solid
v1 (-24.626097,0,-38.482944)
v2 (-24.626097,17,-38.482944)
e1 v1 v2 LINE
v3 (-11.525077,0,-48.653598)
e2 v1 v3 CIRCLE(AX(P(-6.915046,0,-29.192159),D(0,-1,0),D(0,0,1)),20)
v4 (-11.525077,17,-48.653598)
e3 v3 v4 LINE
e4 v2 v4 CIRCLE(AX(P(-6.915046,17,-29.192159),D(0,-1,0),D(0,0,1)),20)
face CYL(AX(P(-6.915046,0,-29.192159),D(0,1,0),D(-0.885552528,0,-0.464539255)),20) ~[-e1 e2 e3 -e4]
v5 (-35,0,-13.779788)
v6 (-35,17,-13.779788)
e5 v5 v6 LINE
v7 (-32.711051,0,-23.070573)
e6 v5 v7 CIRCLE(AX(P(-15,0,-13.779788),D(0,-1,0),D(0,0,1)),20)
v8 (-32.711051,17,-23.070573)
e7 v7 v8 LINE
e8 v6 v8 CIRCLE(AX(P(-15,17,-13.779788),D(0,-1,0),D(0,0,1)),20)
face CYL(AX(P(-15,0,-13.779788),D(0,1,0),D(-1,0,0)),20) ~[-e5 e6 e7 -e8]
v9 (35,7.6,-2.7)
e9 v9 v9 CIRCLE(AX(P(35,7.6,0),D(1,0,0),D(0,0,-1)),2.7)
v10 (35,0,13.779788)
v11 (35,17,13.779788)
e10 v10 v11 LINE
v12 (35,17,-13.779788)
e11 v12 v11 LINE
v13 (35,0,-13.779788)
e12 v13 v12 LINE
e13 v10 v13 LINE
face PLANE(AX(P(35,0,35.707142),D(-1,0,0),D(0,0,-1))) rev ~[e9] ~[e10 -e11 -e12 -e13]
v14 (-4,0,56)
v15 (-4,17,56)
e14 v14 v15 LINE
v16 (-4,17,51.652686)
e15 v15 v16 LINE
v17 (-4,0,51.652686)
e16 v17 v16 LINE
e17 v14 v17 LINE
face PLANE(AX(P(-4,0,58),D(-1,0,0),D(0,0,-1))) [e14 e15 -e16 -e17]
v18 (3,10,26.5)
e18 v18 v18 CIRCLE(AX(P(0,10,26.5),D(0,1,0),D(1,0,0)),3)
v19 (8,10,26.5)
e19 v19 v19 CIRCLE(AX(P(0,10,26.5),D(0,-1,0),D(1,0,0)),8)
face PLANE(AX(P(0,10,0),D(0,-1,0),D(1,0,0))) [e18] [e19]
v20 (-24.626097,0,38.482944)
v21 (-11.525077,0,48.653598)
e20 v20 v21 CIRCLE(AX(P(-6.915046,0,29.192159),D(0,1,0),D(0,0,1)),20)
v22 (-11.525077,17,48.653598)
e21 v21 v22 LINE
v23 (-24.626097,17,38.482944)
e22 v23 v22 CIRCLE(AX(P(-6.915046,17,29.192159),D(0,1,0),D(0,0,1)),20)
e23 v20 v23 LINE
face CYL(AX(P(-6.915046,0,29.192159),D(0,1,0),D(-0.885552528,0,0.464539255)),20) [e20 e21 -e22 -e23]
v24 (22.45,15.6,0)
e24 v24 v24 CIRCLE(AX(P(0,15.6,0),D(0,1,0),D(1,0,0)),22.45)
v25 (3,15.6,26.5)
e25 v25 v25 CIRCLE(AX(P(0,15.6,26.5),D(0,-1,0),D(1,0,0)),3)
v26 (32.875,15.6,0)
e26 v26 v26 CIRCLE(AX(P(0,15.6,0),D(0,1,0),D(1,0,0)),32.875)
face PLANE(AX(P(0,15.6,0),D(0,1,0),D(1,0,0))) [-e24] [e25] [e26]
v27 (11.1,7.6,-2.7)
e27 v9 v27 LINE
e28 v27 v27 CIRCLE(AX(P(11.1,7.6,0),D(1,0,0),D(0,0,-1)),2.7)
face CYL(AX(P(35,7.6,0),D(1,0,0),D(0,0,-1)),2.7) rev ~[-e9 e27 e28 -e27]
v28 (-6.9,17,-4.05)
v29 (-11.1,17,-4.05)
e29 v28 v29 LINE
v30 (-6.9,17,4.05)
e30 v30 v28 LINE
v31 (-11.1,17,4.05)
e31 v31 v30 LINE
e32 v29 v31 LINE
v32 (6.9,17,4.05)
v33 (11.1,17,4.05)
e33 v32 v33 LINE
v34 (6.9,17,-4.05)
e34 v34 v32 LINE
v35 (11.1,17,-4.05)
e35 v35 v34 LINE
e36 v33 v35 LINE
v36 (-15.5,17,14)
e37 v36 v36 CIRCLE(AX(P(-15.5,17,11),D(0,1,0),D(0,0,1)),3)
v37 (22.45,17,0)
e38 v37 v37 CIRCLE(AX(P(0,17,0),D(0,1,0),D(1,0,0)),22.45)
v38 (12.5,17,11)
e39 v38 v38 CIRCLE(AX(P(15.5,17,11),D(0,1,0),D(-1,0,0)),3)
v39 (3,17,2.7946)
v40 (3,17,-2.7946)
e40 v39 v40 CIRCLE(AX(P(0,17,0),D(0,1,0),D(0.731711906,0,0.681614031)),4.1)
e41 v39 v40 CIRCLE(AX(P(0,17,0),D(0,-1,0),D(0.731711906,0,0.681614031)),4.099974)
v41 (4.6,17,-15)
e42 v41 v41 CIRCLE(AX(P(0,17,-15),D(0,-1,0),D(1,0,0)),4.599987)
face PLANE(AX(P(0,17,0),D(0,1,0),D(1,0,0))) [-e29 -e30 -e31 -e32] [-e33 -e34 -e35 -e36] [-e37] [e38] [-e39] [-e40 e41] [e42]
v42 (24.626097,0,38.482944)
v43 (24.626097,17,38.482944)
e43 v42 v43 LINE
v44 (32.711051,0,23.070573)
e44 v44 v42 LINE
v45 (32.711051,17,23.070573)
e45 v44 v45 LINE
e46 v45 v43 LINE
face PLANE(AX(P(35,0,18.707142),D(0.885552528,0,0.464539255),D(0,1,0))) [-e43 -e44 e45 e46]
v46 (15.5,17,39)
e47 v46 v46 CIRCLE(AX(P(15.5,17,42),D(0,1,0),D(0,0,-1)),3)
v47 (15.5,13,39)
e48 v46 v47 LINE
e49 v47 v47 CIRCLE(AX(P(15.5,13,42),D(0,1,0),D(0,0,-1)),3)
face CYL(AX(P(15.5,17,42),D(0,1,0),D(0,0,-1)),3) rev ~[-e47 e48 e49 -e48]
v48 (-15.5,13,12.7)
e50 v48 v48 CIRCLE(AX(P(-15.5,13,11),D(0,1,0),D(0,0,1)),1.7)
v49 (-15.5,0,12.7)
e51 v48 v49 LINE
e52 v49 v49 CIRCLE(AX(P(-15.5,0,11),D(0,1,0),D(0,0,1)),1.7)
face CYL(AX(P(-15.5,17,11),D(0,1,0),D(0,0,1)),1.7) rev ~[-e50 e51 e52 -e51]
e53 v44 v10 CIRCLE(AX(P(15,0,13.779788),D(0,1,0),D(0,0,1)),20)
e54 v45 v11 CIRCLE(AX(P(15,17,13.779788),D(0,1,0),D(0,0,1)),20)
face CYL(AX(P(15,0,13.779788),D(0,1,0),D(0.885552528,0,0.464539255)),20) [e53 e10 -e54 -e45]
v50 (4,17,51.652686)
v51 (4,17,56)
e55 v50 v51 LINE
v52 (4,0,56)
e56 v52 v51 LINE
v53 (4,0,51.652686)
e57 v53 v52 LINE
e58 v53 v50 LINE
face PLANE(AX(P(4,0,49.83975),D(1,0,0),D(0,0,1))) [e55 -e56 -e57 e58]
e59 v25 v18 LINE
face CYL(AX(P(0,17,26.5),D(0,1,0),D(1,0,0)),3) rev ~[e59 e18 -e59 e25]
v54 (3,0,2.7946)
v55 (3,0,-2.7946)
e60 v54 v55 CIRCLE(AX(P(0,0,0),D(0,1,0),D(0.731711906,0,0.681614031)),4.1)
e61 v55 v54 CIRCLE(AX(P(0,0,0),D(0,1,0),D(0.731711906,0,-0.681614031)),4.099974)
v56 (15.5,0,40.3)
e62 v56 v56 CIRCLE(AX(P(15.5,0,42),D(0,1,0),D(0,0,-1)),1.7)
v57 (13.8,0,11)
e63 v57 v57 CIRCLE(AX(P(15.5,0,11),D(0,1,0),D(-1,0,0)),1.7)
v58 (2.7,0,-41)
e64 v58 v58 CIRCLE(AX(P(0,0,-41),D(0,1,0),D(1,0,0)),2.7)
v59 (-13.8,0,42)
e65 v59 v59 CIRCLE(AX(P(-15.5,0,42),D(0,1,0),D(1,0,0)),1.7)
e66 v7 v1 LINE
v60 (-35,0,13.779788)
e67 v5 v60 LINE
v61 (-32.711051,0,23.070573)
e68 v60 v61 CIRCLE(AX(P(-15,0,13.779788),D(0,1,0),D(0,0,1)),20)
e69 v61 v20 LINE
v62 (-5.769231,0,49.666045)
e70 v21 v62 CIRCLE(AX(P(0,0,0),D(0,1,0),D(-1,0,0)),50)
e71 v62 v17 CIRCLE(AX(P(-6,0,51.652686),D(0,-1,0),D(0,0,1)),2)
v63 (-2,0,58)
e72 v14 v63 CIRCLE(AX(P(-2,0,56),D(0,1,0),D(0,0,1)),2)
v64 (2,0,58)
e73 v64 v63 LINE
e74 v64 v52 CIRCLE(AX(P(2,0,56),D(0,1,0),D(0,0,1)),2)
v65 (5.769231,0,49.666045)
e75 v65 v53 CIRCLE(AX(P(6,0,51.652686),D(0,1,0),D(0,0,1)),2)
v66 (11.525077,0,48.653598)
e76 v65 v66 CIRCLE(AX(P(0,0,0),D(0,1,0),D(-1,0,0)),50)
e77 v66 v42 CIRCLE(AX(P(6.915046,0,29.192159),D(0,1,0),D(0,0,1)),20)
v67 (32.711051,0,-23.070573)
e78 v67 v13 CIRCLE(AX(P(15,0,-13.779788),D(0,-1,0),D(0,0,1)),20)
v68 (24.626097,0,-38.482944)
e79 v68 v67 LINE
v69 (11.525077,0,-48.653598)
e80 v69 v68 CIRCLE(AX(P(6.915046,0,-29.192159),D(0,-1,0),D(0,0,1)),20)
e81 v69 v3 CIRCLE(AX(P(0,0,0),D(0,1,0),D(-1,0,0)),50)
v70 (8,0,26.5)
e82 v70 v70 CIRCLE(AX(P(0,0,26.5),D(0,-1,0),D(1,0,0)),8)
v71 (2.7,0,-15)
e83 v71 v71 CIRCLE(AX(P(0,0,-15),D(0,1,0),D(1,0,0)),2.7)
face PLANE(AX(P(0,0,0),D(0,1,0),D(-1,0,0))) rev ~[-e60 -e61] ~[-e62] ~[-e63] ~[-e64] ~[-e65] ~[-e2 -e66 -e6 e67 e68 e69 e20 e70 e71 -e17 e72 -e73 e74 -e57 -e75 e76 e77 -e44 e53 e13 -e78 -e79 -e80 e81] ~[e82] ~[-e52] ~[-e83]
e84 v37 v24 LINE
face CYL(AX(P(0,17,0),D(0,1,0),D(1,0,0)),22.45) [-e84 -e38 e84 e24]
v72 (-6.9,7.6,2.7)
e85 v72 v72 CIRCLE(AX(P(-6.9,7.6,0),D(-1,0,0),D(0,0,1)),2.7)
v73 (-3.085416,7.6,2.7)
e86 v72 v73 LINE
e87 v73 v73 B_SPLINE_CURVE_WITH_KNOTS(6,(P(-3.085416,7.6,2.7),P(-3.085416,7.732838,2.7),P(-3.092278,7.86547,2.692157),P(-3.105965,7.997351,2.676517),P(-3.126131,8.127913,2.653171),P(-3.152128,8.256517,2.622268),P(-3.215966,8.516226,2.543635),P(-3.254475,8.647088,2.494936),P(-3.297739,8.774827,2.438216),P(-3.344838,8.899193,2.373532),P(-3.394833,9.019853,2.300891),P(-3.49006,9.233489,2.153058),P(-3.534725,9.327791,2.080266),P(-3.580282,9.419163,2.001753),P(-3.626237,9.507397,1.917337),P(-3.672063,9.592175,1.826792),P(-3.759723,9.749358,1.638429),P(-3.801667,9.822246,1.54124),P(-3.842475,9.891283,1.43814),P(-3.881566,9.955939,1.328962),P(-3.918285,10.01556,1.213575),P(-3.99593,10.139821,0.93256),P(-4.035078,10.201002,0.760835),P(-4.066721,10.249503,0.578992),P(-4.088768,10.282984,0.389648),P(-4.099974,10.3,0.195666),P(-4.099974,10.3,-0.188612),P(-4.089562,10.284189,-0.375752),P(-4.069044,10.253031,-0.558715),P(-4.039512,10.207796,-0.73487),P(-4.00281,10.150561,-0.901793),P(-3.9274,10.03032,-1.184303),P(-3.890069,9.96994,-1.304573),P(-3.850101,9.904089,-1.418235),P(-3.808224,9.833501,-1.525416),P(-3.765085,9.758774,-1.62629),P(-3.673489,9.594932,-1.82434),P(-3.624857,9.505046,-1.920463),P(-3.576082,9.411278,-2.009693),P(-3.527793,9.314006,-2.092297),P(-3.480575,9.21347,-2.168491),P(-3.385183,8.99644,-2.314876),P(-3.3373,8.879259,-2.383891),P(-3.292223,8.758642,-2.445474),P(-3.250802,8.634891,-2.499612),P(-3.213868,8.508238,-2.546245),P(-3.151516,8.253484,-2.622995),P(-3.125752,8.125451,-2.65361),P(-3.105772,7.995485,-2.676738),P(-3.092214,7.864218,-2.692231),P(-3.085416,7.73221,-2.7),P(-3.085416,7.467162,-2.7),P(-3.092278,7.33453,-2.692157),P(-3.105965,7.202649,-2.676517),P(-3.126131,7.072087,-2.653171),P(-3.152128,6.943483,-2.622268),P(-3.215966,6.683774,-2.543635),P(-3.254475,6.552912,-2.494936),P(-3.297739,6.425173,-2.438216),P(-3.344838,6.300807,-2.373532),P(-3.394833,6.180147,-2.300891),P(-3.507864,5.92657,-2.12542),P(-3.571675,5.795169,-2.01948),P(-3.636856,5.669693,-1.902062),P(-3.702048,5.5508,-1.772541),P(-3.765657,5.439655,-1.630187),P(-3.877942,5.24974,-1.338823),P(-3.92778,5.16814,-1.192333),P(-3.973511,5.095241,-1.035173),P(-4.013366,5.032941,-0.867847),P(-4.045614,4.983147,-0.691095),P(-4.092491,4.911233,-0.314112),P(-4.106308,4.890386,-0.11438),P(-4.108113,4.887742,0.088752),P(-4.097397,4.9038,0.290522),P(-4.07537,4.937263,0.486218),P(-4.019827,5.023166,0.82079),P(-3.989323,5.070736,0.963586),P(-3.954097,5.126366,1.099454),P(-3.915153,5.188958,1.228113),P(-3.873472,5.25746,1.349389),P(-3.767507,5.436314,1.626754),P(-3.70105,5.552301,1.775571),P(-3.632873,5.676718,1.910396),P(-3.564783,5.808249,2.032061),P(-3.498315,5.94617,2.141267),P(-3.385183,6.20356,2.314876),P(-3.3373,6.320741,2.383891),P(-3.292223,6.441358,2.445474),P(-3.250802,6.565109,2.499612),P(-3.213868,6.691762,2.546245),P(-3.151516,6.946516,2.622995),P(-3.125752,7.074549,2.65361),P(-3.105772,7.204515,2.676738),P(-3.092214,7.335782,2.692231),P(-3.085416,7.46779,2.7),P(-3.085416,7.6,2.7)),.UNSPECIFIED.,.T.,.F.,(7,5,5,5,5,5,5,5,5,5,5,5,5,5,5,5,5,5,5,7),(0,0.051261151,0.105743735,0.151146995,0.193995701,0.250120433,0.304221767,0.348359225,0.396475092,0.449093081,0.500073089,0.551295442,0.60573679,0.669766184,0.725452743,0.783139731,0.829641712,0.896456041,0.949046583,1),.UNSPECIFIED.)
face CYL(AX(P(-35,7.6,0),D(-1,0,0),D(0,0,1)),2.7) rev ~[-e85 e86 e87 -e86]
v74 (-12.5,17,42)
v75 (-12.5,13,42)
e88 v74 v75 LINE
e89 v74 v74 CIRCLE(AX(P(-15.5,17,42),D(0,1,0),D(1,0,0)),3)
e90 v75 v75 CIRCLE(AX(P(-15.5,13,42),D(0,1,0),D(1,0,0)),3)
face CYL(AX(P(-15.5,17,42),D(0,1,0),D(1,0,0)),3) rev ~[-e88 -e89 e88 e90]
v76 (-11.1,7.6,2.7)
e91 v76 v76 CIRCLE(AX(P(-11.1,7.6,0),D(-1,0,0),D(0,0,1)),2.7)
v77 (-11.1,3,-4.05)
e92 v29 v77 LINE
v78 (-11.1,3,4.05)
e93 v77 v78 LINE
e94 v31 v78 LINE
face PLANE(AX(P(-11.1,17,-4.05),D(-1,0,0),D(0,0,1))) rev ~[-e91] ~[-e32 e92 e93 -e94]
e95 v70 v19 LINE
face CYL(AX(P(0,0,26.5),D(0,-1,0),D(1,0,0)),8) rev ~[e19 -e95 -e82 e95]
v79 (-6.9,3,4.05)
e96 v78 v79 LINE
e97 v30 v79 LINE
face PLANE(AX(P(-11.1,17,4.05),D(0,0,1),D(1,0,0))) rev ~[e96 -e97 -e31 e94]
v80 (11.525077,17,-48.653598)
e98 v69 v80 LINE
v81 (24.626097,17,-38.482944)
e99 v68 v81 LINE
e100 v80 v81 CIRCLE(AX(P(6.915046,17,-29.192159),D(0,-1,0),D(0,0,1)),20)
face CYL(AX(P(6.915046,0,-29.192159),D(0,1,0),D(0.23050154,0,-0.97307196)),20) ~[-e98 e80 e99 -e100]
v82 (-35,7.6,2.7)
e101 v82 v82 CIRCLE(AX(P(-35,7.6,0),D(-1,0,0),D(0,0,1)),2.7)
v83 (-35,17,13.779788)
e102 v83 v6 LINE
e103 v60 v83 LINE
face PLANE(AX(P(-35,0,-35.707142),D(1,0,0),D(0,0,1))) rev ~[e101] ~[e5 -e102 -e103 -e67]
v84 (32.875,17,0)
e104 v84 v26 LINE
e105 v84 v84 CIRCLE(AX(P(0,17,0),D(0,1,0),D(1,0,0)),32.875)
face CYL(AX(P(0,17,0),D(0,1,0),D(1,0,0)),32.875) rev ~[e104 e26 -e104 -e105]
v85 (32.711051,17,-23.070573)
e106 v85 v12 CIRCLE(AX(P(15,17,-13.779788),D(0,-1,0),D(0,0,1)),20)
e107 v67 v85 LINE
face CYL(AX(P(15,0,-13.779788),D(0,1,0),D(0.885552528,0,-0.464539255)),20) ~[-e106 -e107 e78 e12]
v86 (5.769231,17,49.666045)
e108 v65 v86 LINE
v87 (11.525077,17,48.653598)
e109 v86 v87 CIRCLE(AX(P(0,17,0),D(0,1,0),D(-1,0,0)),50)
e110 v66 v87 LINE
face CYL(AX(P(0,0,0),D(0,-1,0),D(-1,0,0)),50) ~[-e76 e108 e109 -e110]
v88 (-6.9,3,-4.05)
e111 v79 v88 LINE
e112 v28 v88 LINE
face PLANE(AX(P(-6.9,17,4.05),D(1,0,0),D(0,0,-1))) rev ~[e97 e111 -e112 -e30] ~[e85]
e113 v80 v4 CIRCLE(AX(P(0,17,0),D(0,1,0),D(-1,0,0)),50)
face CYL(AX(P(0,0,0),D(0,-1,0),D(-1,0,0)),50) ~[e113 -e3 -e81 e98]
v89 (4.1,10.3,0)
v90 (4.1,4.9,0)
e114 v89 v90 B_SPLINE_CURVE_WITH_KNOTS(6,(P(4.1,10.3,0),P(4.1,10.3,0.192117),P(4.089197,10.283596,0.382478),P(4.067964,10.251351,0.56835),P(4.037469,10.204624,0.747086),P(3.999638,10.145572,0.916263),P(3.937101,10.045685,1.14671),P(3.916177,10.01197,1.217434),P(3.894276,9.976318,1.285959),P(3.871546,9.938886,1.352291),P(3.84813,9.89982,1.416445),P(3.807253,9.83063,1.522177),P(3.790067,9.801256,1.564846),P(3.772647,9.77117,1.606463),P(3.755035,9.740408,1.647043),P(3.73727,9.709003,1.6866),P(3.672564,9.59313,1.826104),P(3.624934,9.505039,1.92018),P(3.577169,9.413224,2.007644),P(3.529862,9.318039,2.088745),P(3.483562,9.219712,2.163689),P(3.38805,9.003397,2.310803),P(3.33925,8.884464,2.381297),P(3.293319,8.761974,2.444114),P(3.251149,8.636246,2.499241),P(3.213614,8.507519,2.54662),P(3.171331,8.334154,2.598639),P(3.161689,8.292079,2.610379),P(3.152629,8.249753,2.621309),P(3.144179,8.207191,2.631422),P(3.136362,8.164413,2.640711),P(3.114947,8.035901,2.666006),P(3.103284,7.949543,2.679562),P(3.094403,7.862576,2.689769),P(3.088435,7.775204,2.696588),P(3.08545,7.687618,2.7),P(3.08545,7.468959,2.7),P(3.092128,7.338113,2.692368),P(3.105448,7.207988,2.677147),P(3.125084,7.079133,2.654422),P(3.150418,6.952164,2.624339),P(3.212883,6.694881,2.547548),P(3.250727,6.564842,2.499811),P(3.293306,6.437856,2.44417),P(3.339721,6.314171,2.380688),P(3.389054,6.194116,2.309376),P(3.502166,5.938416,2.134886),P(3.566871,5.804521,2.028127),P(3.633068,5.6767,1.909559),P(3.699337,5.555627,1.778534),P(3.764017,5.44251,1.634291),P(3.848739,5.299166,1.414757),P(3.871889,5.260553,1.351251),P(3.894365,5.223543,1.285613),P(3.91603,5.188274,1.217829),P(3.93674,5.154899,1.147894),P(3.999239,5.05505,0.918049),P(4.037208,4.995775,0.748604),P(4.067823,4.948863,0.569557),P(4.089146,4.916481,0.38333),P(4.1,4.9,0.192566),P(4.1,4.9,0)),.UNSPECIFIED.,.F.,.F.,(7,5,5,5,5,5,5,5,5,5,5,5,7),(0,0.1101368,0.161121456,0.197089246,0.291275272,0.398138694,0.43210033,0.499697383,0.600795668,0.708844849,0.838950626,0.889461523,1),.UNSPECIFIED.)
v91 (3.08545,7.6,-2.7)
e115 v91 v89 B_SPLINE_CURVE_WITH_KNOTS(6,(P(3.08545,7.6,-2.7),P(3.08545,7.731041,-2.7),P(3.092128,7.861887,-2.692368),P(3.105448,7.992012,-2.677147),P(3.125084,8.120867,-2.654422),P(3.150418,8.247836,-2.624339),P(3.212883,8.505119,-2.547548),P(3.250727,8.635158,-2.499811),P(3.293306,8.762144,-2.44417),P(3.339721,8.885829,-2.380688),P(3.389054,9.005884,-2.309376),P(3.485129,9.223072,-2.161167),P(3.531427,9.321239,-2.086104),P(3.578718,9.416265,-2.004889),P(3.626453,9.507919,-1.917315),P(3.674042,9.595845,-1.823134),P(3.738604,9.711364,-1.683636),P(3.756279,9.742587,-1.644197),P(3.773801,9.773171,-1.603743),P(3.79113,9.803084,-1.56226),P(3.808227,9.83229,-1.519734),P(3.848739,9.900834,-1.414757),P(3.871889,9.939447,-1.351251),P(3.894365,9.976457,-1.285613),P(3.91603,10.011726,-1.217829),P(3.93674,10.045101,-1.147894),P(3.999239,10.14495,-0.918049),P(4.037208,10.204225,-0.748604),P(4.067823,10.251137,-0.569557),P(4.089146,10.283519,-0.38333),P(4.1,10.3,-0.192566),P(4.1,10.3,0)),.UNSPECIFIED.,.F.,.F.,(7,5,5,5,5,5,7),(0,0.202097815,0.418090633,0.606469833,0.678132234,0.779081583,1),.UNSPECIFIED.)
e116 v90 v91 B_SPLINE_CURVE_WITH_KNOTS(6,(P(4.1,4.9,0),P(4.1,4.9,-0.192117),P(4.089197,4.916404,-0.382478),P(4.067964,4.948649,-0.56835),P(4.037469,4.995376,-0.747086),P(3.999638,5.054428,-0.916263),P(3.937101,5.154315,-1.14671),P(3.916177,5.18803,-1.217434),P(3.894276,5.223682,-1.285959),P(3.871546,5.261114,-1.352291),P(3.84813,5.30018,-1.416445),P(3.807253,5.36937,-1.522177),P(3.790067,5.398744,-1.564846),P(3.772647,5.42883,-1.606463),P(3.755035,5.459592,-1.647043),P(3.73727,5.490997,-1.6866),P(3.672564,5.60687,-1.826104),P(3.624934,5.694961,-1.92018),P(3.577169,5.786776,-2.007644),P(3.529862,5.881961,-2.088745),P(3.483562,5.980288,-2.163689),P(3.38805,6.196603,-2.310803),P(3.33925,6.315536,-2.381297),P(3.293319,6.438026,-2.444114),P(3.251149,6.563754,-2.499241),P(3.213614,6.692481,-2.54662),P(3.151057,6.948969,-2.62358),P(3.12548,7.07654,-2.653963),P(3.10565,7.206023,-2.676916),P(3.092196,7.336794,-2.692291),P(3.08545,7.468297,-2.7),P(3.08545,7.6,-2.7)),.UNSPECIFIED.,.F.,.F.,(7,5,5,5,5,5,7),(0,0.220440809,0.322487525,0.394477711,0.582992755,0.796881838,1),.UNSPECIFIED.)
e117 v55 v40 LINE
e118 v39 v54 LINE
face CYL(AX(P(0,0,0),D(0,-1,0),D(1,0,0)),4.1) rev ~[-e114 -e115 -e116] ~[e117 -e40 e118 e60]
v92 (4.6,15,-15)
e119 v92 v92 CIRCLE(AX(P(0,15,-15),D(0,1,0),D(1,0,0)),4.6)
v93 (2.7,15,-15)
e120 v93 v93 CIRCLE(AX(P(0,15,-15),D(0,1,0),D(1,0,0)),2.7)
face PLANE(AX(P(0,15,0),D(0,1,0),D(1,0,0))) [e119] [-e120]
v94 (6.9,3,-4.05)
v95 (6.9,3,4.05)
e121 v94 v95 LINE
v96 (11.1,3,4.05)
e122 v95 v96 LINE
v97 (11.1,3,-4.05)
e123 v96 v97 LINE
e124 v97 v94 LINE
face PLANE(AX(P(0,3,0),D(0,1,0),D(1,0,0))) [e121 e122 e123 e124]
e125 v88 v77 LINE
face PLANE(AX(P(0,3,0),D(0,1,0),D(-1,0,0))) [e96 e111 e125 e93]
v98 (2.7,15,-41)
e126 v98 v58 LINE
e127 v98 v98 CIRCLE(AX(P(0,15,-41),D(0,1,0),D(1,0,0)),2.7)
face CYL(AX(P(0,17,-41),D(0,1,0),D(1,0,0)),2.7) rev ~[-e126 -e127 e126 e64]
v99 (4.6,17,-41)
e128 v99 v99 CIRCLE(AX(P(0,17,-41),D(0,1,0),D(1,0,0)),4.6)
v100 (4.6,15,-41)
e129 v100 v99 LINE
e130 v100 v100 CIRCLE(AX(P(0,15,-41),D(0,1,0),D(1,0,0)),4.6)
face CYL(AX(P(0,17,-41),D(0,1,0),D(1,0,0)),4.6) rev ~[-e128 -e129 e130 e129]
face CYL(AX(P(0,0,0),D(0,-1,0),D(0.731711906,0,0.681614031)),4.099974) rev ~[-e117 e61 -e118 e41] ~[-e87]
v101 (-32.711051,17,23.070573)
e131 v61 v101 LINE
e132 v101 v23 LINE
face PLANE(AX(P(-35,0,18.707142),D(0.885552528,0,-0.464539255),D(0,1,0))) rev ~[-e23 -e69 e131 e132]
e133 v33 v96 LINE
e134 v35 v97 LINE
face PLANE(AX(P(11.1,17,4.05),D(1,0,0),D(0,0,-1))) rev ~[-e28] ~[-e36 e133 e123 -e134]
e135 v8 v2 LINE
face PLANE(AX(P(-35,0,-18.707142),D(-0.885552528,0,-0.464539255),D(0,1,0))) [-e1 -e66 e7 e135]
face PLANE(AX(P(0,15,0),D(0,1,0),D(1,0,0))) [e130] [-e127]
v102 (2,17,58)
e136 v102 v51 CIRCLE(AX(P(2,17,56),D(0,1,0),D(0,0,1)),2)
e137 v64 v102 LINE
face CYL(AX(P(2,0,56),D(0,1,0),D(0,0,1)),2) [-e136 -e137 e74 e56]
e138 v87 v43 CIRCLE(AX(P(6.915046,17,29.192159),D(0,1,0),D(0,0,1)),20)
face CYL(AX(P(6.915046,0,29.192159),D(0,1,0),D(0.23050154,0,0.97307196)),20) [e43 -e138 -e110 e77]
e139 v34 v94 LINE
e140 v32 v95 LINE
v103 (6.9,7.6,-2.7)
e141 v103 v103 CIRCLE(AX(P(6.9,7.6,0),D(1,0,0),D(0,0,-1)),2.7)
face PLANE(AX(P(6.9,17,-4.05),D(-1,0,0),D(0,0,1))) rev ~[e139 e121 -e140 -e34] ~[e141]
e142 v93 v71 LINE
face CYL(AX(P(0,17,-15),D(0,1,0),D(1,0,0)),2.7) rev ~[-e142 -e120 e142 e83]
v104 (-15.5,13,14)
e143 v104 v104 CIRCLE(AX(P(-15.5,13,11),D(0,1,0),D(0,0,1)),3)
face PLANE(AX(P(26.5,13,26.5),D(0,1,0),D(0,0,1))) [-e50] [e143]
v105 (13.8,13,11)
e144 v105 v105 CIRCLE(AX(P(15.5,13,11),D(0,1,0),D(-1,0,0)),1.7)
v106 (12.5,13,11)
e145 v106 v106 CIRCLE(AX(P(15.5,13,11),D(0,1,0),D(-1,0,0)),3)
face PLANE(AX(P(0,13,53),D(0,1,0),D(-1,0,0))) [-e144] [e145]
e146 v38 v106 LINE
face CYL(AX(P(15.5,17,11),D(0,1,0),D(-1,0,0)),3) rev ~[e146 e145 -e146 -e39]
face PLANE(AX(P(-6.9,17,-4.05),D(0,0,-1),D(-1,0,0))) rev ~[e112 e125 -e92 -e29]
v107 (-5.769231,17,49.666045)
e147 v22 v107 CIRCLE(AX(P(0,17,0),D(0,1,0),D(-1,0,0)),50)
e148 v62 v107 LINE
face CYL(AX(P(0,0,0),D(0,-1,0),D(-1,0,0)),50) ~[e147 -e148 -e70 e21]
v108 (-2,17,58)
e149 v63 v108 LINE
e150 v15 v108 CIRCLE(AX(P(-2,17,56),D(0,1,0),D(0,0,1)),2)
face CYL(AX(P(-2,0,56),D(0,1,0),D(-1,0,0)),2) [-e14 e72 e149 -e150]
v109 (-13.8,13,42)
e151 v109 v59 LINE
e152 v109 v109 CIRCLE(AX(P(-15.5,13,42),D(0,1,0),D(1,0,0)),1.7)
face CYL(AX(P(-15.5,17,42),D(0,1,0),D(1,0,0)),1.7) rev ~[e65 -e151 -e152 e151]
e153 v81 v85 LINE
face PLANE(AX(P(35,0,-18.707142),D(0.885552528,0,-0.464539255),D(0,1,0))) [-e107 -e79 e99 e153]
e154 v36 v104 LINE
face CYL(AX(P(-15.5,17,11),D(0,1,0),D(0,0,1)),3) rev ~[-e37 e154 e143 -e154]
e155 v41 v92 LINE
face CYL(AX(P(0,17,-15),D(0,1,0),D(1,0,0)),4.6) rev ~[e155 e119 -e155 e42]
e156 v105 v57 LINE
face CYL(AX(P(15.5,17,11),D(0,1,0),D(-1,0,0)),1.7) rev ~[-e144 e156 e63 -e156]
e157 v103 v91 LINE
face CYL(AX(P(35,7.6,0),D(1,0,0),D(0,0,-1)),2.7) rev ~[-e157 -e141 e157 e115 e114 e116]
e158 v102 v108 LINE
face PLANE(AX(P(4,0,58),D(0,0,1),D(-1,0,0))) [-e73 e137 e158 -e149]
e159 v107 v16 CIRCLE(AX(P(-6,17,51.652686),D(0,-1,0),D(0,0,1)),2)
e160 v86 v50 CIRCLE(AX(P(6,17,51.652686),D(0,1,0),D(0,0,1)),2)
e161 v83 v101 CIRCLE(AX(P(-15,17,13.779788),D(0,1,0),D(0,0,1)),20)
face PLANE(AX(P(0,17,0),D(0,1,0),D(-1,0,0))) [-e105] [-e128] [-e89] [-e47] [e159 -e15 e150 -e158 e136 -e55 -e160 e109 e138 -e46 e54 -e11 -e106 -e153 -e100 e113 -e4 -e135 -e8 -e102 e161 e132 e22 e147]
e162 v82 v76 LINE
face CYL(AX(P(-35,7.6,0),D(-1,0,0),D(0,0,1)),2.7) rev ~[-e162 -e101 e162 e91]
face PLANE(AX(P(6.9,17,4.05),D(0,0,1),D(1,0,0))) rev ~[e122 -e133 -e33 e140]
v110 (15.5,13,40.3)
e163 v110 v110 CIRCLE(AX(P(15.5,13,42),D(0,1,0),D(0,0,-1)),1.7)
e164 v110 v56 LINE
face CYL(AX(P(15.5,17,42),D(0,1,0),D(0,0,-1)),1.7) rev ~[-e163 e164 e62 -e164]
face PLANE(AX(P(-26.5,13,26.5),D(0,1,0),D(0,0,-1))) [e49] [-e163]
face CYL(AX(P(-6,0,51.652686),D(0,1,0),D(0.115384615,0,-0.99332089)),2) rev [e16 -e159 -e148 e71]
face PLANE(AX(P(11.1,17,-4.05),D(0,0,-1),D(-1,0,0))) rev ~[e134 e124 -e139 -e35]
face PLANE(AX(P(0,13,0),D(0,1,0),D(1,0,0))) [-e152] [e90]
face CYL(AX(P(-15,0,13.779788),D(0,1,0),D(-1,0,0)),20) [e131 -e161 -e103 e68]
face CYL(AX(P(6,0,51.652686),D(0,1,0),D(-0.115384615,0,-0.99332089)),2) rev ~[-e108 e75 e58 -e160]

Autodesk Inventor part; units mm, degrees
ref_plane "YZ Plane" through (0, 0, 0) normal (1, 0, 0) x (0, 1, 0)
ref_plane "XZ Plane" through (0, 0, 0) normal (0, 1, 0) x (-1, 0, 0)
ref_plane "XY Plane" through (0, 0, 0) normal (0, 0, 1) x (1, 0, 0)
sketch "Boceto1" plane through (0, 0, 0) normal (0, 1, 0) x (-1, 0, 0)
  circle A0 centre (0, 0) radius 19.876
  circle A1 centre (0, 0) radius 32.85
  circle A2 centre (0, 0) radius 50
  dimension "d0" = 65.7
  dimension "d1" = 100
extrude "Extrusión1" add sketch "Boceto1" along normal blind 17 contours A0 | A1 | A2
sketch "Boceto2" plane through (0, 17, 0) normal (0, 1, 0) x (1, 0, 0)
  circle A0 centre (0, 0) radius 32.875
  circle A1 centre (0, 0) radius 22.45
  dimension "d4" = 65.75
  dimension "d5" = 44.9
extrude "Extrusión2" cut sketch "Boceto2" against normal blind 1.4
sketch "Boceto3" plane through (0, 17, 0) normal (0, 1, 0) x (1, 0, 0)
  circle A0 centre (0, 0) radius 22.45 projected
extrude "Extrusión3" add sketch "Boceto3" along normal blind 1
sketch "Boceto4" plane through (0, 18, 0) normal (0, 1, 0) x (1, 0, 0)
  circle A0 centre (0, 0) radius 4
  line L0 (2.9, -2.755) -> (2.9, 2.755)
  dimension "d11" = 8
  dimension "d12" = 2.9
extrude "Extrusión4" cut sketch "Boceto4" against normal through all contours L0 A0 picked at (-0.156, 0.667)
sketch "Boceto5" plane through (0, 18, 0) normal (0, 1, 0) x (1, 0, 0)
  arc A0 (2.9, 2.755) -> (2.9, -2.755) centre (0, 0) ccw projected
  line L0 (2.9, 2.755) -> (2.9, -2.755) projected
  arc A1 (3, 2.7946) -> (3, -2.7946) centre (0, 0) ccw
  line L1 (3, 2.7946) -> (3, -2.7946)
  dimension "d15" = 0.1
extrude "Extrusión5" cut sketch "Boceto5" against normal through all contours L0 A0 | L1 A1
sketch "Boceto6" plane through (0, 0, 0) normal (0, -1, 0) x (1, 0, 0)
  line L0 (-35, 64.067) -> (35, 64.067)
  line L1 (35, 64.067) -> (35, -64.067)
  line L2 (35, -64.067) -> (-35, -64.067)
  line L3 (-35, -64.067) -> (-35, 64.067)
  line L4 (-35, 64.067) -> (35, -64.067) construction
  line L5 (35, 64.067) -> (-35, -64.067) construction
  arc A0 (3, 2.7946) -> (3, -2.7946) centre (0, 0) ccw projected
  line L6 (3, 2.7946) -> (3, -2.7946) projected
  circle A1 centre (0, 0) radius 50 projected
  point P0 (0, 0)
  point P1 (-35, 35.7071)
  point P2 (-35, -35.7071)
  point P3 (35, 35.7071)
  point P4 (35, -35.7071)
  dimension "d19" = 70
extrude "Extrusión6" cut sketch "Boceto6" against normal through all contours L3 A1 | A1 L1
chamfer "Chaflán1" distance 17 angle 45 4 edges at (-35, 8.5, 35.7071) (-35, 8.5, -35.7071) (35, 8.5, -35.7071) (35, 8.5, 35.7071)
fillet "Empalme2" radius 20 8 edges at (-21.0133, 8.5, -45.3701) (-21.0133, 8.5, 45.3701) (-35, 8.5, -18.7071) (-35, 8.5, 18.7071) (21.0133, 8.5, -45.3701) (21.0133, 8.5, 45.3701) (35, 8.5, -18.7071) (35, 8.5, 18.7071)
sketch "Boceto8" plane through (0, 18, 0) normal (0, 1, 0) x (1, 0, 0)
  arc A0 (3, 2.7946) -> (3, -2.7946) centre (0, 0) ccw projected
  line L0 (3, 2.7946) -> (3, -2.7946) projected
sketch "Boceto9" plane through (0, 17, 0) normal (0, 1, 0) x (1, 0, 0)
  circle A0 centre (0, 41) radius 2.7
  circle A1 centre (0, 15) radius 2.7
  circle A2 centre (0, -15) radius 2.7
  point P0 (0, 0)
  dimension "d30" = 5.4
  dimension "d31" = 5.4
  dimension "d32" = 15
  dimension "d33" = 26
  dimension "d45" = 15
extrude "Extrusión8" cut sketch "Boceto9" along normal blind 15 and the other way blind 27.75
sketch "Boceto13" plane through (0, 17, 0) normal (0, 1, 0) x (1, 0, 0)
  circle A0 centre (0, 41) radius 2.7 projected
  circle A1 centre (0, 41) radius 4.6
  circle A2 centre (0, 15) radius 2.7 projected
  circle A3 centre (0, 15) radius 4.6
  circle A4 centre (0, -15) radius 2.7 projected
  circle A5 centre (0, -15) radius 4.6
  point P0 (0, 0)
  dimension "d38" = 9.2
  dimension "d39" = 9.2
extrude "Extrusión9" cut sketch "Boceto13" along normal blind 2 and the other way blind 2 contours A0 | A1 | A3 | A4 | A5
sketch "Boceto14" plane through (0, 18, 0) normal (0, 1, 0) x (1, 0, 0)
  circle A0 centre (0, 0) radius 9
  dimension "d46" = 18
extrude "Extrusión10" add sketch "Boceto14" along normal blind 2.5
sketch "Boceto15" plane through (0, 0, 0) normal (0, -1, 0) x (1, 0, 0)
  line L0 (3, -2.7946) -> (3, 2.7946) projected
  arc A0 (3, 2.7946) -> (3, -2.7946) centre (0, 0) ccw projected
extrude "Extrusión11" cut sketch "Boceto15" against normal through all
fillet "Empalme3" radius 2 1 edges at (-9, 18, 0)
sketch "Boceto16" plane through (0, 20.5, 0) normal (0, 1, 0) x (1, 0, 0)
  circle A0 centre (0, 0) radius 4.15
extrude "Extrusión12" cut sketch "Boceto16" against normal blind 2
sketch "Boceto17" plane through (0, 18, 0) normal (0, 1, 0) x (1, 0, 0)
  arc A0 (1.9376, -10.828) -> (1.9376, 10.828) centre (0, 0) ccw projected
  arc A1 (-1.9376, -10.828) -> (1.9376, -10.828) centre (0, -15) ccw projected
  arc A2 (-1.9376, 10.828) -> (-1.9376, -10.828) centre (0, 0) ccw projected
  arc A3 (1.9376, 10.828) -> (-1.9376, 10.828) centre (0, 15) ccw projected
  circle A4 centre (0, 0) radius 22.45 projected
extrude "Extrusión13" cut sketch "Boceto17" against normal up to surface (1 mm away)
sketch "Boceto18" plane through (0, 17, 0) normal (0, 1, 0) x (1, 0, 0)
  circle A0 centre (0, 0) radius 13.4678
extrude "Extrusión14" cut sketch "Boceto18" along normal blind 17.5
sketch "Boceto19" plane through (0, 17, 0) normal (0, 1, 0) x (1, 0, 0)
  circle A0 centre (0, 0) radius 4.1
  arc A1 (3, 2.7946) -> (3, -2.7946) centre (0, 0) ccw projected
extrude "Extrusión15" cut sketch "Boceto19" against normal blind 3
sketch "Boceto20" plane through (0, 17, 0) normal (0, 1, 0) x (1, 0, 0)
  circle A0 centre (-15.5, -42) radius 1.7
  point P0 (0, 0)
  point P1 (0, -26.5)
  dimension "d60" = 15.5
  dimension "d61" = 15.5
  dimension "d62" = 3.4
  dimension "d84" = 42
extrude "Extrusión16" cut sketch "Boceto20" against normal through all
sketch "Boceto21" plane through (0, 17, 0) normal (0, 1, 0) x (1, 0, 0)
  line L0 (11.1, 4.05) -> (6.9, 4.05)
  line L1 (6.9, 4.05) -> (6.9, -4.05)
  line L2 (6.9, -4.05) -> (11.1, -4.05)
  line L3 (11.1, -4.05) -> (11.1, 4.05)
  line L4 (11.1, 4.05) -> (6.9, -4.05) construction
  line L5 (6.9, 4.05) -> (11.1, -4.05) construction
  point P0 (0, 0)
  point P1 (9, 0)
  dimension "d65" = 8.1
  dimension "d66" = 4.2
  dimension "d107" = 9
extrude "Extrusión17" cut sketch "Boceto21" against normal blind 14
sketch "Boceto22" plane through (35, 0, 13.7798) normal (1, 0, 0) x (0, 0, -1)
  circle A0 centre (13.7798, 7.6) radius 2.7
  line L0 (17.8298, 3) -> (9.7298, 3) projected
  point P0 (13.7798, 0)
  point P1 (13.7798, 3)
  dimension "d69" = 5.4
  dimension "d70" = 4.6
extrude "Extrusión18" cut sketch "Boceto22" against normal blind 35.25
sketch "Boceto23" plane through (0, 17, 0) normal (0, 1, 0) x (1, 0, 0)
  circle A0 centre (0, -26.5) radius 3
  circle A1 centre (-15.5, -42) radius 1.7 projected
  point P0 (0, 0)
  dimension "d73" = 15.5
  dimension "d74" = 15.5
  dimension "d81" = 6
extrude "Extrusión20" cut sketch "Boceto23" against normal through all contours A0
sketch "Boceto24" plane through (0, 17, 0) normal (0, 1, 0) x (1, 0, 0)
  circle A0 centre (-15.5, -42) radius 1.7 projected
  circle A1 centre (-15.5, -42) radius 3
  point P0 (0, 0)
  dimension "d78" = 6
extrude "Extrusión19" cut sketch "Boceto24" against normal blind 4
pattern_circular "Patrón circular1" count 4 over 360 about axis through (0, 17, 26.5) along (0, 1, 0) of "Extrusión16", "Extrusión20", "Extrusión19"
sketch "Boceto33" plane through (0, 0, 0) normal (0, -1, 0) x (1, 0, 0)
  circle A0 centre (0, 26.5) radius 3 projected
  circle A1 centre (0, 26.5) radius 8
  point P0 (0, 0)
  dimension "d114" = 16
extrude "Extrusión28" cut sketch "Boceto33" against normal blind 10 contours A0 | A1
sketch "Boceto34" plane through (0, 0, 0) normal (0, -1, 0) x (1, 0, 0)
  circle A0 centre (0, 15) radius 2.7 projected
  point P0 (0, 0)
extrude "Extrusión29" add sketch "Boceto34" against normal up to surface (17 mm away)
sketch "Boceto35" plane through (0, 17, 0) normal (0, 1, 0) x (1, 0, 0)
  circle A0 centre (0, -15) radius 4.6 projected
  point P0 (0, 0)
extrude "Extrusión30" add sketch "Boceto35" against normal blind 3.75
pattern_circular "Patrón circular2" count 2 over 360 about axis through (0, 18, 0) along (0, -1, 0) of "Extrusión17", "Extrusión18"
sketch "Boceto36" plane through (0, 0, 0) normal (0, -1, 0) x (1, 0, 0)
  arc A0 (11.5251, 48.6536) -> (-11.5251, 48.6536) centre (0, 0) ccw projected
  line L0 (-4, 42) -> (4, 42)
  line L1 (4, 42) -> (4, 58)
  line L2 (4, 58) -> (-4, 58)
  line L3 (-4, 58) -> (-4, 42)
  line L4 (-4, 42) -> (4, 58) construction
  line L5 (4, 42) -> (-4, 58) construction
  point P0 (-4, 49.8397)
  point P1 (4, 49.8397)
  point P2 (0, 50)
  dimension "d125" = 8
  dimension "d129" = 8
extrude "Extrusión31" add sketch "Boceto36" against normal up to surface (17 mm away) contours A0 L3 L2 L1
fillet "Empalme5" radius 2 4 edges at (-4, 8.5, 58) (4, 8.5, 58) (-4, 8.5, 49.8397) (4, 8.5, 49.8397)
sketch "Boceto37" plane through (0, 0, 0) normal (0, -1, 0) x (1, 0, 0)
  arc A0 (3, 2.7946) -> (3, -2.7946) centre (0, 0) ccw projected
  circle A1 centre (0, 0) radius 4.1
  point P0 (3, -2.7946)
extrude "Extrusión32" cut sketch "Boceto37" against normal through all
sketch "Boceto30" plane through (0, 17, 0) normal (0, 1, 0) x (1, 0, 0)
  circle A0 centre (0, 0) radius 6.9
sketch "Boceto31" plane through (0, 17, 0) normal (0, 1, 0) x (1, 0, 0)
  circle A0 centre (0, 0) radius 6.9 projected
  circle A1 centre (0, 0) radius 4.1 projected
sketch "Boceto32" plane through (0, 14, 0) normal (0, 1, 0) x (0, 0, -1)
  line L0 (-2.7946, -3) -> (2.7946, -3) projected
  arc A0 (-2.7946, -3) -> (2.7946, -3) centre (0, 0) ccw projected
sketch "Boceto26" plane through (0, 17, 0) normal (0, 1, 0) x (1, 0, 0)
  line L0 (24, -87.6765) -> (-24, -87.6765)
  line L1 (-24, -87.6765) -> (-24, -39.6765)
  line L2 (-24, -39.6765) -> (24, -39.6765)
  line L3 (24, -39.6765) -> (24, -87.6765)
  line L4 (24, -87.6765) -> (-24, -39.6765) construction
  line L5 (-24, -87.6765) -> (24, -39.6765) construction
  line L6 (32.7111, -23.0706) -> (24.6261, -38.4829) projected
  point P0 (0, 0)
  point P1 (0, -63.6765)
  point P2 (0, -63.6765)
  dimension "d85" = 48
  dimension "d86" = 48
sketch "Boceto27" plane through (0, 17, 0) normal (0, 1, 0) x (1, 0, 0)
  circle A0 centre (0, -63.6765) radius 3
  line L0 (-19, -87.6765) -> (19, -87.6765) projected
  circle A1 centre (-15.5, -79.4365) radius 1.7
  circle A2 centre (-15.5, -48.4365) radius 1.7
  circle A3 centre (15.5, -79.4365) radius 1.7
  circle A4 centre (15.5, -48.4365) radius 1.7
  point P0 (0, 0)
  dimension "d90" = 6
  dimension "d91" = 24
  dimension "d92" = 3.4
  dimension "d93" = 15.5
  dimension "d94" = 31
  dimension "d95" = 15.5
sketch "Boceto28" plane through (0, 17, 0) normal (0, 1, 0) x (1, 0, 0)
  line L0 (-13.8, -83.4365) -> (-17.2, -83.4365)
  line L1 (-17.2, -83.4365) -> (-17.2, -75.4365)
  line L2 (-17.2, -75.4365) -> (-13.8, -75.4365)
  line L3 (-13.8, -75.4365) -> (-13.8, -83.4365)
  circle A0 centre (-15.5, -79.4365) radius 1.7 projected
  line L4 (-13.8, -83.4365) -> (-17.2, -75.4365) construction
  line L5 (-17.2, -83.4365) -> (-13.8, -75.4365) construction
  line L6 (-13.8, -52.4365) -> (-17.2, -52.4365)
  line L7 (-17.2, -52.4365) -> (-17.2, -44.4365)
  line L8 (-17.2, -44.4365) -> (-13.8, -44.4365)
  line L9 (-13.8, -44.4365) -> (-13.8, -52.4365)
  circle A1 centre (-15.5, -48.4365) radius 1.7 projected
  line L10 (-13.8, -52.4365) -> (-17.2, -44.4365) construction
  line L11 (-17.2, -52.4365) -> (-13.8, -44.4365) construction
  line L12 (3, -67.6765) -> (-3, -67.6765)
  line L13 (-3, -67.6765) -> (-3, -59.6765)
  line L14 (-3, -59.6765) -> (3, -59.6765)
  line L15 (3, -59.6765) -> (3, -67.6765)
  circle A2 centre (0, -63.6765) radius 3 projected
  line L16 (3, -67.6765) -> (-3, -59.6765) construction
  line L17 (-3, -67.6765) -> (3, -59.6765) construction
  line L18 (17.2, -52.4365) -> (13.8, -52.4365)
  line L19 (13.8, -52.4365) -> (13.8, -44.4365)
  line L20 (13.8, -44.4365) -> (17.2, -44.4365)
  line L21 (17.2, -44.4365) -> (17.2, -52.4365)
  circle A3 centre (15.5, -48.4365) radius 1.7 projected
  line L22 (17.2, -52.4365) -> (13.8, -44.4365) construction
  line L23 (13.8, -52.4365) -> (17.2, -44.4365) construction
  line L24 (17.2, -83.4365) -> (13.8, -83.4365)
  line L25 (13.8, -83.4365) -> (13.8, -75.4365)
  line L26 (13.8, -75.4365) -> (17.2, -75.4365)
  line L27 (17.2, -75.4365) -> (17.2, -83.4365)
  circle A4 centre (15.5, -79.4365) radius 1.7 projected
  line L28 (17.2, -83.4365) -> (13.8, -75.4365) construction
  line L29 (13.8, -83.4365) -> (17.2, -75.4365) construction
  circle A5 centre (-15.5, -83.4365) radius 1.7
  circle A6 centre (-15.5, -75.4365) radius 1.7
  circle A7 centre (-15.5, -52.4365) radius 1.7
  circle A8 centre (-15.5, -44.4365) radius 1.7
  circle A9 centre (15.5, -52.4365) radius 1.7
  circle A10 centre (15.5, -44.4365) radius 1.7
  circle A11 centre (15.5, -83.4365) radius 1.7
  circle A12 centre (15.5, -75.4365) radius 1.7
  circle A13 centre (-15.5, -79.4365) radius 1.7 projected
  circle A14 centre (0, -67.6765) radius 3
  circle A15 centre (0, -59.6765) radius 3
  point P0 (0, 0)
  dimension "d98" = 8
sketch "Boceto29" plane through (0, 17, 0) normal (0, 1, 0) x (1, 0, 0)
  line L0 (17.2, -44.4365) -> (17.2, -52.4365) projected
  arc A0 (13.8, -52.4365) -> (17.2, -52.4365) centre (15.5, -52.4365) ccw projected
  line L1 (13.8, -52.4365) -> (13.8, -44.4365) projected
  arc A1 (17.2, -44.4365) -> (13.8, -44.4365) centre (15.5, -44.4365) ccw projected
  line L2 (13.8, -83.4365) -> (13.8, -75.4365) projected
  arc A2 (17.2, -75.4365) -> (13.8, -75.4365) centre (15.5, -75.4365) ccw projected
  line L3 (17.2, -75.4365) -> (17.2, -83.4365) projected
  arc A3 (13.8, -83.4365) -> (17.2, -83.4365) centre (15.5, -83.4365) ccw projected
  line L4 (3, -59.6765) -> (3, -67.6765) projected
  arc A4 (-3, -67.6765) -> (3, -67.6765) centre (0, -67.6765) ccw projected
  line L5 (-3, -67.6765) -> (-3, -59.6765) projected
  arc A5 (3, -59.6765) -> (-3, -59.6765) centre (0, -59.6765) ccw projected
  line L6 (-17.2, -83.4365) -> (-17.2, -75.4365) projected
  arc A6 (-13.8, -75.4365) -> (-17.2, -75.4365) centre (-15.5, -75.4365) ccw projected
  line L7 (-13.8, -75.4365) -> (-13.8, -83.4365) projected
  arc A7 (-17.2, -83.4365) -> (-13.8, -83.4365) centre (-15.5, -83.4365) ccw projected
  line L8 (-17.2, -52.4365) -> (-17.2, -44.4365) projected
  arc A8 (-13.8, -44.4365) -> (-17.2, -44.4365) centre (-15.5, -44.4365) ccw projected
  line L9 (-13.8, -44.4365) -> (-13.8, -52.4365) projected
  arc A9 (-17.2, -52.4365) -> (-13.8, -52.4365) centre (-15.5, -52.4365) ccw projected
  circle A10 centre (0, 0) radius 32.875 projected
  arc A11 (19, -87.6765) -> (24, -82.6765) centre (19, -82.6765) ccw projected
  line L10 (24, -82.6765) -> (24, -40.4042) projected
  arc A12 (24, -40.4042) -> (23.9468, -39.6765) centre (19, -40.4042) ccw projected
  arc A13 (23.9468, -39.6765) -> (24.6261, -38.4829) centre (6.915, -29.1922) ccw projected
  line L11 (32.7111, -23.0706) -> (24.6261, -38.4829) projected
  arc A14 (32.7111, -23.0706) -> (35, -13.7798) centre (15, -13.7798) ccw projected
  line L12 (35, -13.7798) -> (35, 13.7798) projected
  arc A15 (35, 13.7798) -> (32.7111, 23.0706) centre (15, 13.7798) ccw projected
  line L13 (24.6261, 38.4829) -> (32.7111, 23.0706) projected
  arc A16 (24.6261, 38.4829) -> (11.5251, 48.6536) centre (6.915, 29.1922) ccw projected
  arc A17 (11.5251, 48.6536) -> (-11.5251, 48.6536) centre (0, 0) ccw projected
  arc A18 (-11.5251, 48.6536) -> (-24.6261, 38.4829) centre (-6.915, 29.1922) ccw projected
  line L14 (-32.7111, 23.0706) -> (-24.6261, 38.4829) projected
  arc A19 (-32.7111, 23.0706) -> (-35, 13.7798) centre (-15, 13.7798) ccw projected
  line L15 (-35, 13.7798) -> (-35, -13.7798) projected
  arc A20 (-35, -13.7798) -> (-32.7111, -23.0706) centre (-15, -13.7798) ccw projected
  line L16 (-24.6261, -38.4829) -> (-32.7111, -23.0706) projected
  arc A21 (-24.6261, -38.4829) -> (-23.9468, -39.6765) centre (-6.915, -29.1922) ccw projected
  arc A22 (-23.9468, -39.6765) -> (-24, -40.4042) centre (-19, -40.4042) ccw projected
  line L17 (-24, -40.4042) -> (-24, -82.6765) projected
  arc A23 (-24, -82.6765) -> (-19, -87.6765) centre (-19, -82.6765) ccw projected
  line L18 (-19, -87.6765) -> (19, -87.6765) projected
  circle A24 centre (0, 41) radius 4.6 projected
  line L19 (-18.7, -75.4365) -> (-18.7, -83.4365)
  arc A25 (-18.7, -83.4365) -> (-12.3, -83.4365) centre (-15.5, -83.4365) ccw
  line L20 (-12.3, -83.4365) -> (-12.3, -75.4365)
  arc A26 (-12.3, -75.4365) -> (-18.7, -75.4365) centre (-15.5, -75.4365) ccw
  line L21 (-18.7, -44.4365) -> (-18.7, -52.4365)
  arc A27 (-18.7, -52.4365) -> (-12.3, -52.4365) centre (-15.5, -52.4365) ccw
  line L22 (-12.3, -52.4365) -> (-12.3, -44.4365)
  arc A28 (-12.3, -44.4365) -> (-18.7, -44.4365) centre (-15.5, -44.4365) ccw
  line L23 (12.3, -44.4365) -> (12.3, -52.4365)
  arc A29 (12.3, -52.4365) -> (18.7, -52.4365) centre (15.5, -52.4365) ccw
  line L24 (18.7, -52.4365) -> (18.7, -44.4365)
  arc A30 (18.7, -44.4365) -> (12.3, -44.4365) centre (15.5, -44.4365) ccw
  line L25 (12.3, -75.4365) -> (12.3, -83.4365)
  arc A31 (12.3, -83.4365) -> (18.7, -83.4365) centre (15.5, -83.4365) ccw
  line L26 (18.7, -83.4365) -> (18.7, -75.4365)
  arc A32 (18.7, -75.4365) -> (12.3, -75.4365) centre (15.5, -75.4365) ccw
  dimension "d101" = 1.5
  dimension "d102" = 1.5
  dimension "d103" = 1.5
  dimension "d104" = 1.5
properties part number "Platform"
